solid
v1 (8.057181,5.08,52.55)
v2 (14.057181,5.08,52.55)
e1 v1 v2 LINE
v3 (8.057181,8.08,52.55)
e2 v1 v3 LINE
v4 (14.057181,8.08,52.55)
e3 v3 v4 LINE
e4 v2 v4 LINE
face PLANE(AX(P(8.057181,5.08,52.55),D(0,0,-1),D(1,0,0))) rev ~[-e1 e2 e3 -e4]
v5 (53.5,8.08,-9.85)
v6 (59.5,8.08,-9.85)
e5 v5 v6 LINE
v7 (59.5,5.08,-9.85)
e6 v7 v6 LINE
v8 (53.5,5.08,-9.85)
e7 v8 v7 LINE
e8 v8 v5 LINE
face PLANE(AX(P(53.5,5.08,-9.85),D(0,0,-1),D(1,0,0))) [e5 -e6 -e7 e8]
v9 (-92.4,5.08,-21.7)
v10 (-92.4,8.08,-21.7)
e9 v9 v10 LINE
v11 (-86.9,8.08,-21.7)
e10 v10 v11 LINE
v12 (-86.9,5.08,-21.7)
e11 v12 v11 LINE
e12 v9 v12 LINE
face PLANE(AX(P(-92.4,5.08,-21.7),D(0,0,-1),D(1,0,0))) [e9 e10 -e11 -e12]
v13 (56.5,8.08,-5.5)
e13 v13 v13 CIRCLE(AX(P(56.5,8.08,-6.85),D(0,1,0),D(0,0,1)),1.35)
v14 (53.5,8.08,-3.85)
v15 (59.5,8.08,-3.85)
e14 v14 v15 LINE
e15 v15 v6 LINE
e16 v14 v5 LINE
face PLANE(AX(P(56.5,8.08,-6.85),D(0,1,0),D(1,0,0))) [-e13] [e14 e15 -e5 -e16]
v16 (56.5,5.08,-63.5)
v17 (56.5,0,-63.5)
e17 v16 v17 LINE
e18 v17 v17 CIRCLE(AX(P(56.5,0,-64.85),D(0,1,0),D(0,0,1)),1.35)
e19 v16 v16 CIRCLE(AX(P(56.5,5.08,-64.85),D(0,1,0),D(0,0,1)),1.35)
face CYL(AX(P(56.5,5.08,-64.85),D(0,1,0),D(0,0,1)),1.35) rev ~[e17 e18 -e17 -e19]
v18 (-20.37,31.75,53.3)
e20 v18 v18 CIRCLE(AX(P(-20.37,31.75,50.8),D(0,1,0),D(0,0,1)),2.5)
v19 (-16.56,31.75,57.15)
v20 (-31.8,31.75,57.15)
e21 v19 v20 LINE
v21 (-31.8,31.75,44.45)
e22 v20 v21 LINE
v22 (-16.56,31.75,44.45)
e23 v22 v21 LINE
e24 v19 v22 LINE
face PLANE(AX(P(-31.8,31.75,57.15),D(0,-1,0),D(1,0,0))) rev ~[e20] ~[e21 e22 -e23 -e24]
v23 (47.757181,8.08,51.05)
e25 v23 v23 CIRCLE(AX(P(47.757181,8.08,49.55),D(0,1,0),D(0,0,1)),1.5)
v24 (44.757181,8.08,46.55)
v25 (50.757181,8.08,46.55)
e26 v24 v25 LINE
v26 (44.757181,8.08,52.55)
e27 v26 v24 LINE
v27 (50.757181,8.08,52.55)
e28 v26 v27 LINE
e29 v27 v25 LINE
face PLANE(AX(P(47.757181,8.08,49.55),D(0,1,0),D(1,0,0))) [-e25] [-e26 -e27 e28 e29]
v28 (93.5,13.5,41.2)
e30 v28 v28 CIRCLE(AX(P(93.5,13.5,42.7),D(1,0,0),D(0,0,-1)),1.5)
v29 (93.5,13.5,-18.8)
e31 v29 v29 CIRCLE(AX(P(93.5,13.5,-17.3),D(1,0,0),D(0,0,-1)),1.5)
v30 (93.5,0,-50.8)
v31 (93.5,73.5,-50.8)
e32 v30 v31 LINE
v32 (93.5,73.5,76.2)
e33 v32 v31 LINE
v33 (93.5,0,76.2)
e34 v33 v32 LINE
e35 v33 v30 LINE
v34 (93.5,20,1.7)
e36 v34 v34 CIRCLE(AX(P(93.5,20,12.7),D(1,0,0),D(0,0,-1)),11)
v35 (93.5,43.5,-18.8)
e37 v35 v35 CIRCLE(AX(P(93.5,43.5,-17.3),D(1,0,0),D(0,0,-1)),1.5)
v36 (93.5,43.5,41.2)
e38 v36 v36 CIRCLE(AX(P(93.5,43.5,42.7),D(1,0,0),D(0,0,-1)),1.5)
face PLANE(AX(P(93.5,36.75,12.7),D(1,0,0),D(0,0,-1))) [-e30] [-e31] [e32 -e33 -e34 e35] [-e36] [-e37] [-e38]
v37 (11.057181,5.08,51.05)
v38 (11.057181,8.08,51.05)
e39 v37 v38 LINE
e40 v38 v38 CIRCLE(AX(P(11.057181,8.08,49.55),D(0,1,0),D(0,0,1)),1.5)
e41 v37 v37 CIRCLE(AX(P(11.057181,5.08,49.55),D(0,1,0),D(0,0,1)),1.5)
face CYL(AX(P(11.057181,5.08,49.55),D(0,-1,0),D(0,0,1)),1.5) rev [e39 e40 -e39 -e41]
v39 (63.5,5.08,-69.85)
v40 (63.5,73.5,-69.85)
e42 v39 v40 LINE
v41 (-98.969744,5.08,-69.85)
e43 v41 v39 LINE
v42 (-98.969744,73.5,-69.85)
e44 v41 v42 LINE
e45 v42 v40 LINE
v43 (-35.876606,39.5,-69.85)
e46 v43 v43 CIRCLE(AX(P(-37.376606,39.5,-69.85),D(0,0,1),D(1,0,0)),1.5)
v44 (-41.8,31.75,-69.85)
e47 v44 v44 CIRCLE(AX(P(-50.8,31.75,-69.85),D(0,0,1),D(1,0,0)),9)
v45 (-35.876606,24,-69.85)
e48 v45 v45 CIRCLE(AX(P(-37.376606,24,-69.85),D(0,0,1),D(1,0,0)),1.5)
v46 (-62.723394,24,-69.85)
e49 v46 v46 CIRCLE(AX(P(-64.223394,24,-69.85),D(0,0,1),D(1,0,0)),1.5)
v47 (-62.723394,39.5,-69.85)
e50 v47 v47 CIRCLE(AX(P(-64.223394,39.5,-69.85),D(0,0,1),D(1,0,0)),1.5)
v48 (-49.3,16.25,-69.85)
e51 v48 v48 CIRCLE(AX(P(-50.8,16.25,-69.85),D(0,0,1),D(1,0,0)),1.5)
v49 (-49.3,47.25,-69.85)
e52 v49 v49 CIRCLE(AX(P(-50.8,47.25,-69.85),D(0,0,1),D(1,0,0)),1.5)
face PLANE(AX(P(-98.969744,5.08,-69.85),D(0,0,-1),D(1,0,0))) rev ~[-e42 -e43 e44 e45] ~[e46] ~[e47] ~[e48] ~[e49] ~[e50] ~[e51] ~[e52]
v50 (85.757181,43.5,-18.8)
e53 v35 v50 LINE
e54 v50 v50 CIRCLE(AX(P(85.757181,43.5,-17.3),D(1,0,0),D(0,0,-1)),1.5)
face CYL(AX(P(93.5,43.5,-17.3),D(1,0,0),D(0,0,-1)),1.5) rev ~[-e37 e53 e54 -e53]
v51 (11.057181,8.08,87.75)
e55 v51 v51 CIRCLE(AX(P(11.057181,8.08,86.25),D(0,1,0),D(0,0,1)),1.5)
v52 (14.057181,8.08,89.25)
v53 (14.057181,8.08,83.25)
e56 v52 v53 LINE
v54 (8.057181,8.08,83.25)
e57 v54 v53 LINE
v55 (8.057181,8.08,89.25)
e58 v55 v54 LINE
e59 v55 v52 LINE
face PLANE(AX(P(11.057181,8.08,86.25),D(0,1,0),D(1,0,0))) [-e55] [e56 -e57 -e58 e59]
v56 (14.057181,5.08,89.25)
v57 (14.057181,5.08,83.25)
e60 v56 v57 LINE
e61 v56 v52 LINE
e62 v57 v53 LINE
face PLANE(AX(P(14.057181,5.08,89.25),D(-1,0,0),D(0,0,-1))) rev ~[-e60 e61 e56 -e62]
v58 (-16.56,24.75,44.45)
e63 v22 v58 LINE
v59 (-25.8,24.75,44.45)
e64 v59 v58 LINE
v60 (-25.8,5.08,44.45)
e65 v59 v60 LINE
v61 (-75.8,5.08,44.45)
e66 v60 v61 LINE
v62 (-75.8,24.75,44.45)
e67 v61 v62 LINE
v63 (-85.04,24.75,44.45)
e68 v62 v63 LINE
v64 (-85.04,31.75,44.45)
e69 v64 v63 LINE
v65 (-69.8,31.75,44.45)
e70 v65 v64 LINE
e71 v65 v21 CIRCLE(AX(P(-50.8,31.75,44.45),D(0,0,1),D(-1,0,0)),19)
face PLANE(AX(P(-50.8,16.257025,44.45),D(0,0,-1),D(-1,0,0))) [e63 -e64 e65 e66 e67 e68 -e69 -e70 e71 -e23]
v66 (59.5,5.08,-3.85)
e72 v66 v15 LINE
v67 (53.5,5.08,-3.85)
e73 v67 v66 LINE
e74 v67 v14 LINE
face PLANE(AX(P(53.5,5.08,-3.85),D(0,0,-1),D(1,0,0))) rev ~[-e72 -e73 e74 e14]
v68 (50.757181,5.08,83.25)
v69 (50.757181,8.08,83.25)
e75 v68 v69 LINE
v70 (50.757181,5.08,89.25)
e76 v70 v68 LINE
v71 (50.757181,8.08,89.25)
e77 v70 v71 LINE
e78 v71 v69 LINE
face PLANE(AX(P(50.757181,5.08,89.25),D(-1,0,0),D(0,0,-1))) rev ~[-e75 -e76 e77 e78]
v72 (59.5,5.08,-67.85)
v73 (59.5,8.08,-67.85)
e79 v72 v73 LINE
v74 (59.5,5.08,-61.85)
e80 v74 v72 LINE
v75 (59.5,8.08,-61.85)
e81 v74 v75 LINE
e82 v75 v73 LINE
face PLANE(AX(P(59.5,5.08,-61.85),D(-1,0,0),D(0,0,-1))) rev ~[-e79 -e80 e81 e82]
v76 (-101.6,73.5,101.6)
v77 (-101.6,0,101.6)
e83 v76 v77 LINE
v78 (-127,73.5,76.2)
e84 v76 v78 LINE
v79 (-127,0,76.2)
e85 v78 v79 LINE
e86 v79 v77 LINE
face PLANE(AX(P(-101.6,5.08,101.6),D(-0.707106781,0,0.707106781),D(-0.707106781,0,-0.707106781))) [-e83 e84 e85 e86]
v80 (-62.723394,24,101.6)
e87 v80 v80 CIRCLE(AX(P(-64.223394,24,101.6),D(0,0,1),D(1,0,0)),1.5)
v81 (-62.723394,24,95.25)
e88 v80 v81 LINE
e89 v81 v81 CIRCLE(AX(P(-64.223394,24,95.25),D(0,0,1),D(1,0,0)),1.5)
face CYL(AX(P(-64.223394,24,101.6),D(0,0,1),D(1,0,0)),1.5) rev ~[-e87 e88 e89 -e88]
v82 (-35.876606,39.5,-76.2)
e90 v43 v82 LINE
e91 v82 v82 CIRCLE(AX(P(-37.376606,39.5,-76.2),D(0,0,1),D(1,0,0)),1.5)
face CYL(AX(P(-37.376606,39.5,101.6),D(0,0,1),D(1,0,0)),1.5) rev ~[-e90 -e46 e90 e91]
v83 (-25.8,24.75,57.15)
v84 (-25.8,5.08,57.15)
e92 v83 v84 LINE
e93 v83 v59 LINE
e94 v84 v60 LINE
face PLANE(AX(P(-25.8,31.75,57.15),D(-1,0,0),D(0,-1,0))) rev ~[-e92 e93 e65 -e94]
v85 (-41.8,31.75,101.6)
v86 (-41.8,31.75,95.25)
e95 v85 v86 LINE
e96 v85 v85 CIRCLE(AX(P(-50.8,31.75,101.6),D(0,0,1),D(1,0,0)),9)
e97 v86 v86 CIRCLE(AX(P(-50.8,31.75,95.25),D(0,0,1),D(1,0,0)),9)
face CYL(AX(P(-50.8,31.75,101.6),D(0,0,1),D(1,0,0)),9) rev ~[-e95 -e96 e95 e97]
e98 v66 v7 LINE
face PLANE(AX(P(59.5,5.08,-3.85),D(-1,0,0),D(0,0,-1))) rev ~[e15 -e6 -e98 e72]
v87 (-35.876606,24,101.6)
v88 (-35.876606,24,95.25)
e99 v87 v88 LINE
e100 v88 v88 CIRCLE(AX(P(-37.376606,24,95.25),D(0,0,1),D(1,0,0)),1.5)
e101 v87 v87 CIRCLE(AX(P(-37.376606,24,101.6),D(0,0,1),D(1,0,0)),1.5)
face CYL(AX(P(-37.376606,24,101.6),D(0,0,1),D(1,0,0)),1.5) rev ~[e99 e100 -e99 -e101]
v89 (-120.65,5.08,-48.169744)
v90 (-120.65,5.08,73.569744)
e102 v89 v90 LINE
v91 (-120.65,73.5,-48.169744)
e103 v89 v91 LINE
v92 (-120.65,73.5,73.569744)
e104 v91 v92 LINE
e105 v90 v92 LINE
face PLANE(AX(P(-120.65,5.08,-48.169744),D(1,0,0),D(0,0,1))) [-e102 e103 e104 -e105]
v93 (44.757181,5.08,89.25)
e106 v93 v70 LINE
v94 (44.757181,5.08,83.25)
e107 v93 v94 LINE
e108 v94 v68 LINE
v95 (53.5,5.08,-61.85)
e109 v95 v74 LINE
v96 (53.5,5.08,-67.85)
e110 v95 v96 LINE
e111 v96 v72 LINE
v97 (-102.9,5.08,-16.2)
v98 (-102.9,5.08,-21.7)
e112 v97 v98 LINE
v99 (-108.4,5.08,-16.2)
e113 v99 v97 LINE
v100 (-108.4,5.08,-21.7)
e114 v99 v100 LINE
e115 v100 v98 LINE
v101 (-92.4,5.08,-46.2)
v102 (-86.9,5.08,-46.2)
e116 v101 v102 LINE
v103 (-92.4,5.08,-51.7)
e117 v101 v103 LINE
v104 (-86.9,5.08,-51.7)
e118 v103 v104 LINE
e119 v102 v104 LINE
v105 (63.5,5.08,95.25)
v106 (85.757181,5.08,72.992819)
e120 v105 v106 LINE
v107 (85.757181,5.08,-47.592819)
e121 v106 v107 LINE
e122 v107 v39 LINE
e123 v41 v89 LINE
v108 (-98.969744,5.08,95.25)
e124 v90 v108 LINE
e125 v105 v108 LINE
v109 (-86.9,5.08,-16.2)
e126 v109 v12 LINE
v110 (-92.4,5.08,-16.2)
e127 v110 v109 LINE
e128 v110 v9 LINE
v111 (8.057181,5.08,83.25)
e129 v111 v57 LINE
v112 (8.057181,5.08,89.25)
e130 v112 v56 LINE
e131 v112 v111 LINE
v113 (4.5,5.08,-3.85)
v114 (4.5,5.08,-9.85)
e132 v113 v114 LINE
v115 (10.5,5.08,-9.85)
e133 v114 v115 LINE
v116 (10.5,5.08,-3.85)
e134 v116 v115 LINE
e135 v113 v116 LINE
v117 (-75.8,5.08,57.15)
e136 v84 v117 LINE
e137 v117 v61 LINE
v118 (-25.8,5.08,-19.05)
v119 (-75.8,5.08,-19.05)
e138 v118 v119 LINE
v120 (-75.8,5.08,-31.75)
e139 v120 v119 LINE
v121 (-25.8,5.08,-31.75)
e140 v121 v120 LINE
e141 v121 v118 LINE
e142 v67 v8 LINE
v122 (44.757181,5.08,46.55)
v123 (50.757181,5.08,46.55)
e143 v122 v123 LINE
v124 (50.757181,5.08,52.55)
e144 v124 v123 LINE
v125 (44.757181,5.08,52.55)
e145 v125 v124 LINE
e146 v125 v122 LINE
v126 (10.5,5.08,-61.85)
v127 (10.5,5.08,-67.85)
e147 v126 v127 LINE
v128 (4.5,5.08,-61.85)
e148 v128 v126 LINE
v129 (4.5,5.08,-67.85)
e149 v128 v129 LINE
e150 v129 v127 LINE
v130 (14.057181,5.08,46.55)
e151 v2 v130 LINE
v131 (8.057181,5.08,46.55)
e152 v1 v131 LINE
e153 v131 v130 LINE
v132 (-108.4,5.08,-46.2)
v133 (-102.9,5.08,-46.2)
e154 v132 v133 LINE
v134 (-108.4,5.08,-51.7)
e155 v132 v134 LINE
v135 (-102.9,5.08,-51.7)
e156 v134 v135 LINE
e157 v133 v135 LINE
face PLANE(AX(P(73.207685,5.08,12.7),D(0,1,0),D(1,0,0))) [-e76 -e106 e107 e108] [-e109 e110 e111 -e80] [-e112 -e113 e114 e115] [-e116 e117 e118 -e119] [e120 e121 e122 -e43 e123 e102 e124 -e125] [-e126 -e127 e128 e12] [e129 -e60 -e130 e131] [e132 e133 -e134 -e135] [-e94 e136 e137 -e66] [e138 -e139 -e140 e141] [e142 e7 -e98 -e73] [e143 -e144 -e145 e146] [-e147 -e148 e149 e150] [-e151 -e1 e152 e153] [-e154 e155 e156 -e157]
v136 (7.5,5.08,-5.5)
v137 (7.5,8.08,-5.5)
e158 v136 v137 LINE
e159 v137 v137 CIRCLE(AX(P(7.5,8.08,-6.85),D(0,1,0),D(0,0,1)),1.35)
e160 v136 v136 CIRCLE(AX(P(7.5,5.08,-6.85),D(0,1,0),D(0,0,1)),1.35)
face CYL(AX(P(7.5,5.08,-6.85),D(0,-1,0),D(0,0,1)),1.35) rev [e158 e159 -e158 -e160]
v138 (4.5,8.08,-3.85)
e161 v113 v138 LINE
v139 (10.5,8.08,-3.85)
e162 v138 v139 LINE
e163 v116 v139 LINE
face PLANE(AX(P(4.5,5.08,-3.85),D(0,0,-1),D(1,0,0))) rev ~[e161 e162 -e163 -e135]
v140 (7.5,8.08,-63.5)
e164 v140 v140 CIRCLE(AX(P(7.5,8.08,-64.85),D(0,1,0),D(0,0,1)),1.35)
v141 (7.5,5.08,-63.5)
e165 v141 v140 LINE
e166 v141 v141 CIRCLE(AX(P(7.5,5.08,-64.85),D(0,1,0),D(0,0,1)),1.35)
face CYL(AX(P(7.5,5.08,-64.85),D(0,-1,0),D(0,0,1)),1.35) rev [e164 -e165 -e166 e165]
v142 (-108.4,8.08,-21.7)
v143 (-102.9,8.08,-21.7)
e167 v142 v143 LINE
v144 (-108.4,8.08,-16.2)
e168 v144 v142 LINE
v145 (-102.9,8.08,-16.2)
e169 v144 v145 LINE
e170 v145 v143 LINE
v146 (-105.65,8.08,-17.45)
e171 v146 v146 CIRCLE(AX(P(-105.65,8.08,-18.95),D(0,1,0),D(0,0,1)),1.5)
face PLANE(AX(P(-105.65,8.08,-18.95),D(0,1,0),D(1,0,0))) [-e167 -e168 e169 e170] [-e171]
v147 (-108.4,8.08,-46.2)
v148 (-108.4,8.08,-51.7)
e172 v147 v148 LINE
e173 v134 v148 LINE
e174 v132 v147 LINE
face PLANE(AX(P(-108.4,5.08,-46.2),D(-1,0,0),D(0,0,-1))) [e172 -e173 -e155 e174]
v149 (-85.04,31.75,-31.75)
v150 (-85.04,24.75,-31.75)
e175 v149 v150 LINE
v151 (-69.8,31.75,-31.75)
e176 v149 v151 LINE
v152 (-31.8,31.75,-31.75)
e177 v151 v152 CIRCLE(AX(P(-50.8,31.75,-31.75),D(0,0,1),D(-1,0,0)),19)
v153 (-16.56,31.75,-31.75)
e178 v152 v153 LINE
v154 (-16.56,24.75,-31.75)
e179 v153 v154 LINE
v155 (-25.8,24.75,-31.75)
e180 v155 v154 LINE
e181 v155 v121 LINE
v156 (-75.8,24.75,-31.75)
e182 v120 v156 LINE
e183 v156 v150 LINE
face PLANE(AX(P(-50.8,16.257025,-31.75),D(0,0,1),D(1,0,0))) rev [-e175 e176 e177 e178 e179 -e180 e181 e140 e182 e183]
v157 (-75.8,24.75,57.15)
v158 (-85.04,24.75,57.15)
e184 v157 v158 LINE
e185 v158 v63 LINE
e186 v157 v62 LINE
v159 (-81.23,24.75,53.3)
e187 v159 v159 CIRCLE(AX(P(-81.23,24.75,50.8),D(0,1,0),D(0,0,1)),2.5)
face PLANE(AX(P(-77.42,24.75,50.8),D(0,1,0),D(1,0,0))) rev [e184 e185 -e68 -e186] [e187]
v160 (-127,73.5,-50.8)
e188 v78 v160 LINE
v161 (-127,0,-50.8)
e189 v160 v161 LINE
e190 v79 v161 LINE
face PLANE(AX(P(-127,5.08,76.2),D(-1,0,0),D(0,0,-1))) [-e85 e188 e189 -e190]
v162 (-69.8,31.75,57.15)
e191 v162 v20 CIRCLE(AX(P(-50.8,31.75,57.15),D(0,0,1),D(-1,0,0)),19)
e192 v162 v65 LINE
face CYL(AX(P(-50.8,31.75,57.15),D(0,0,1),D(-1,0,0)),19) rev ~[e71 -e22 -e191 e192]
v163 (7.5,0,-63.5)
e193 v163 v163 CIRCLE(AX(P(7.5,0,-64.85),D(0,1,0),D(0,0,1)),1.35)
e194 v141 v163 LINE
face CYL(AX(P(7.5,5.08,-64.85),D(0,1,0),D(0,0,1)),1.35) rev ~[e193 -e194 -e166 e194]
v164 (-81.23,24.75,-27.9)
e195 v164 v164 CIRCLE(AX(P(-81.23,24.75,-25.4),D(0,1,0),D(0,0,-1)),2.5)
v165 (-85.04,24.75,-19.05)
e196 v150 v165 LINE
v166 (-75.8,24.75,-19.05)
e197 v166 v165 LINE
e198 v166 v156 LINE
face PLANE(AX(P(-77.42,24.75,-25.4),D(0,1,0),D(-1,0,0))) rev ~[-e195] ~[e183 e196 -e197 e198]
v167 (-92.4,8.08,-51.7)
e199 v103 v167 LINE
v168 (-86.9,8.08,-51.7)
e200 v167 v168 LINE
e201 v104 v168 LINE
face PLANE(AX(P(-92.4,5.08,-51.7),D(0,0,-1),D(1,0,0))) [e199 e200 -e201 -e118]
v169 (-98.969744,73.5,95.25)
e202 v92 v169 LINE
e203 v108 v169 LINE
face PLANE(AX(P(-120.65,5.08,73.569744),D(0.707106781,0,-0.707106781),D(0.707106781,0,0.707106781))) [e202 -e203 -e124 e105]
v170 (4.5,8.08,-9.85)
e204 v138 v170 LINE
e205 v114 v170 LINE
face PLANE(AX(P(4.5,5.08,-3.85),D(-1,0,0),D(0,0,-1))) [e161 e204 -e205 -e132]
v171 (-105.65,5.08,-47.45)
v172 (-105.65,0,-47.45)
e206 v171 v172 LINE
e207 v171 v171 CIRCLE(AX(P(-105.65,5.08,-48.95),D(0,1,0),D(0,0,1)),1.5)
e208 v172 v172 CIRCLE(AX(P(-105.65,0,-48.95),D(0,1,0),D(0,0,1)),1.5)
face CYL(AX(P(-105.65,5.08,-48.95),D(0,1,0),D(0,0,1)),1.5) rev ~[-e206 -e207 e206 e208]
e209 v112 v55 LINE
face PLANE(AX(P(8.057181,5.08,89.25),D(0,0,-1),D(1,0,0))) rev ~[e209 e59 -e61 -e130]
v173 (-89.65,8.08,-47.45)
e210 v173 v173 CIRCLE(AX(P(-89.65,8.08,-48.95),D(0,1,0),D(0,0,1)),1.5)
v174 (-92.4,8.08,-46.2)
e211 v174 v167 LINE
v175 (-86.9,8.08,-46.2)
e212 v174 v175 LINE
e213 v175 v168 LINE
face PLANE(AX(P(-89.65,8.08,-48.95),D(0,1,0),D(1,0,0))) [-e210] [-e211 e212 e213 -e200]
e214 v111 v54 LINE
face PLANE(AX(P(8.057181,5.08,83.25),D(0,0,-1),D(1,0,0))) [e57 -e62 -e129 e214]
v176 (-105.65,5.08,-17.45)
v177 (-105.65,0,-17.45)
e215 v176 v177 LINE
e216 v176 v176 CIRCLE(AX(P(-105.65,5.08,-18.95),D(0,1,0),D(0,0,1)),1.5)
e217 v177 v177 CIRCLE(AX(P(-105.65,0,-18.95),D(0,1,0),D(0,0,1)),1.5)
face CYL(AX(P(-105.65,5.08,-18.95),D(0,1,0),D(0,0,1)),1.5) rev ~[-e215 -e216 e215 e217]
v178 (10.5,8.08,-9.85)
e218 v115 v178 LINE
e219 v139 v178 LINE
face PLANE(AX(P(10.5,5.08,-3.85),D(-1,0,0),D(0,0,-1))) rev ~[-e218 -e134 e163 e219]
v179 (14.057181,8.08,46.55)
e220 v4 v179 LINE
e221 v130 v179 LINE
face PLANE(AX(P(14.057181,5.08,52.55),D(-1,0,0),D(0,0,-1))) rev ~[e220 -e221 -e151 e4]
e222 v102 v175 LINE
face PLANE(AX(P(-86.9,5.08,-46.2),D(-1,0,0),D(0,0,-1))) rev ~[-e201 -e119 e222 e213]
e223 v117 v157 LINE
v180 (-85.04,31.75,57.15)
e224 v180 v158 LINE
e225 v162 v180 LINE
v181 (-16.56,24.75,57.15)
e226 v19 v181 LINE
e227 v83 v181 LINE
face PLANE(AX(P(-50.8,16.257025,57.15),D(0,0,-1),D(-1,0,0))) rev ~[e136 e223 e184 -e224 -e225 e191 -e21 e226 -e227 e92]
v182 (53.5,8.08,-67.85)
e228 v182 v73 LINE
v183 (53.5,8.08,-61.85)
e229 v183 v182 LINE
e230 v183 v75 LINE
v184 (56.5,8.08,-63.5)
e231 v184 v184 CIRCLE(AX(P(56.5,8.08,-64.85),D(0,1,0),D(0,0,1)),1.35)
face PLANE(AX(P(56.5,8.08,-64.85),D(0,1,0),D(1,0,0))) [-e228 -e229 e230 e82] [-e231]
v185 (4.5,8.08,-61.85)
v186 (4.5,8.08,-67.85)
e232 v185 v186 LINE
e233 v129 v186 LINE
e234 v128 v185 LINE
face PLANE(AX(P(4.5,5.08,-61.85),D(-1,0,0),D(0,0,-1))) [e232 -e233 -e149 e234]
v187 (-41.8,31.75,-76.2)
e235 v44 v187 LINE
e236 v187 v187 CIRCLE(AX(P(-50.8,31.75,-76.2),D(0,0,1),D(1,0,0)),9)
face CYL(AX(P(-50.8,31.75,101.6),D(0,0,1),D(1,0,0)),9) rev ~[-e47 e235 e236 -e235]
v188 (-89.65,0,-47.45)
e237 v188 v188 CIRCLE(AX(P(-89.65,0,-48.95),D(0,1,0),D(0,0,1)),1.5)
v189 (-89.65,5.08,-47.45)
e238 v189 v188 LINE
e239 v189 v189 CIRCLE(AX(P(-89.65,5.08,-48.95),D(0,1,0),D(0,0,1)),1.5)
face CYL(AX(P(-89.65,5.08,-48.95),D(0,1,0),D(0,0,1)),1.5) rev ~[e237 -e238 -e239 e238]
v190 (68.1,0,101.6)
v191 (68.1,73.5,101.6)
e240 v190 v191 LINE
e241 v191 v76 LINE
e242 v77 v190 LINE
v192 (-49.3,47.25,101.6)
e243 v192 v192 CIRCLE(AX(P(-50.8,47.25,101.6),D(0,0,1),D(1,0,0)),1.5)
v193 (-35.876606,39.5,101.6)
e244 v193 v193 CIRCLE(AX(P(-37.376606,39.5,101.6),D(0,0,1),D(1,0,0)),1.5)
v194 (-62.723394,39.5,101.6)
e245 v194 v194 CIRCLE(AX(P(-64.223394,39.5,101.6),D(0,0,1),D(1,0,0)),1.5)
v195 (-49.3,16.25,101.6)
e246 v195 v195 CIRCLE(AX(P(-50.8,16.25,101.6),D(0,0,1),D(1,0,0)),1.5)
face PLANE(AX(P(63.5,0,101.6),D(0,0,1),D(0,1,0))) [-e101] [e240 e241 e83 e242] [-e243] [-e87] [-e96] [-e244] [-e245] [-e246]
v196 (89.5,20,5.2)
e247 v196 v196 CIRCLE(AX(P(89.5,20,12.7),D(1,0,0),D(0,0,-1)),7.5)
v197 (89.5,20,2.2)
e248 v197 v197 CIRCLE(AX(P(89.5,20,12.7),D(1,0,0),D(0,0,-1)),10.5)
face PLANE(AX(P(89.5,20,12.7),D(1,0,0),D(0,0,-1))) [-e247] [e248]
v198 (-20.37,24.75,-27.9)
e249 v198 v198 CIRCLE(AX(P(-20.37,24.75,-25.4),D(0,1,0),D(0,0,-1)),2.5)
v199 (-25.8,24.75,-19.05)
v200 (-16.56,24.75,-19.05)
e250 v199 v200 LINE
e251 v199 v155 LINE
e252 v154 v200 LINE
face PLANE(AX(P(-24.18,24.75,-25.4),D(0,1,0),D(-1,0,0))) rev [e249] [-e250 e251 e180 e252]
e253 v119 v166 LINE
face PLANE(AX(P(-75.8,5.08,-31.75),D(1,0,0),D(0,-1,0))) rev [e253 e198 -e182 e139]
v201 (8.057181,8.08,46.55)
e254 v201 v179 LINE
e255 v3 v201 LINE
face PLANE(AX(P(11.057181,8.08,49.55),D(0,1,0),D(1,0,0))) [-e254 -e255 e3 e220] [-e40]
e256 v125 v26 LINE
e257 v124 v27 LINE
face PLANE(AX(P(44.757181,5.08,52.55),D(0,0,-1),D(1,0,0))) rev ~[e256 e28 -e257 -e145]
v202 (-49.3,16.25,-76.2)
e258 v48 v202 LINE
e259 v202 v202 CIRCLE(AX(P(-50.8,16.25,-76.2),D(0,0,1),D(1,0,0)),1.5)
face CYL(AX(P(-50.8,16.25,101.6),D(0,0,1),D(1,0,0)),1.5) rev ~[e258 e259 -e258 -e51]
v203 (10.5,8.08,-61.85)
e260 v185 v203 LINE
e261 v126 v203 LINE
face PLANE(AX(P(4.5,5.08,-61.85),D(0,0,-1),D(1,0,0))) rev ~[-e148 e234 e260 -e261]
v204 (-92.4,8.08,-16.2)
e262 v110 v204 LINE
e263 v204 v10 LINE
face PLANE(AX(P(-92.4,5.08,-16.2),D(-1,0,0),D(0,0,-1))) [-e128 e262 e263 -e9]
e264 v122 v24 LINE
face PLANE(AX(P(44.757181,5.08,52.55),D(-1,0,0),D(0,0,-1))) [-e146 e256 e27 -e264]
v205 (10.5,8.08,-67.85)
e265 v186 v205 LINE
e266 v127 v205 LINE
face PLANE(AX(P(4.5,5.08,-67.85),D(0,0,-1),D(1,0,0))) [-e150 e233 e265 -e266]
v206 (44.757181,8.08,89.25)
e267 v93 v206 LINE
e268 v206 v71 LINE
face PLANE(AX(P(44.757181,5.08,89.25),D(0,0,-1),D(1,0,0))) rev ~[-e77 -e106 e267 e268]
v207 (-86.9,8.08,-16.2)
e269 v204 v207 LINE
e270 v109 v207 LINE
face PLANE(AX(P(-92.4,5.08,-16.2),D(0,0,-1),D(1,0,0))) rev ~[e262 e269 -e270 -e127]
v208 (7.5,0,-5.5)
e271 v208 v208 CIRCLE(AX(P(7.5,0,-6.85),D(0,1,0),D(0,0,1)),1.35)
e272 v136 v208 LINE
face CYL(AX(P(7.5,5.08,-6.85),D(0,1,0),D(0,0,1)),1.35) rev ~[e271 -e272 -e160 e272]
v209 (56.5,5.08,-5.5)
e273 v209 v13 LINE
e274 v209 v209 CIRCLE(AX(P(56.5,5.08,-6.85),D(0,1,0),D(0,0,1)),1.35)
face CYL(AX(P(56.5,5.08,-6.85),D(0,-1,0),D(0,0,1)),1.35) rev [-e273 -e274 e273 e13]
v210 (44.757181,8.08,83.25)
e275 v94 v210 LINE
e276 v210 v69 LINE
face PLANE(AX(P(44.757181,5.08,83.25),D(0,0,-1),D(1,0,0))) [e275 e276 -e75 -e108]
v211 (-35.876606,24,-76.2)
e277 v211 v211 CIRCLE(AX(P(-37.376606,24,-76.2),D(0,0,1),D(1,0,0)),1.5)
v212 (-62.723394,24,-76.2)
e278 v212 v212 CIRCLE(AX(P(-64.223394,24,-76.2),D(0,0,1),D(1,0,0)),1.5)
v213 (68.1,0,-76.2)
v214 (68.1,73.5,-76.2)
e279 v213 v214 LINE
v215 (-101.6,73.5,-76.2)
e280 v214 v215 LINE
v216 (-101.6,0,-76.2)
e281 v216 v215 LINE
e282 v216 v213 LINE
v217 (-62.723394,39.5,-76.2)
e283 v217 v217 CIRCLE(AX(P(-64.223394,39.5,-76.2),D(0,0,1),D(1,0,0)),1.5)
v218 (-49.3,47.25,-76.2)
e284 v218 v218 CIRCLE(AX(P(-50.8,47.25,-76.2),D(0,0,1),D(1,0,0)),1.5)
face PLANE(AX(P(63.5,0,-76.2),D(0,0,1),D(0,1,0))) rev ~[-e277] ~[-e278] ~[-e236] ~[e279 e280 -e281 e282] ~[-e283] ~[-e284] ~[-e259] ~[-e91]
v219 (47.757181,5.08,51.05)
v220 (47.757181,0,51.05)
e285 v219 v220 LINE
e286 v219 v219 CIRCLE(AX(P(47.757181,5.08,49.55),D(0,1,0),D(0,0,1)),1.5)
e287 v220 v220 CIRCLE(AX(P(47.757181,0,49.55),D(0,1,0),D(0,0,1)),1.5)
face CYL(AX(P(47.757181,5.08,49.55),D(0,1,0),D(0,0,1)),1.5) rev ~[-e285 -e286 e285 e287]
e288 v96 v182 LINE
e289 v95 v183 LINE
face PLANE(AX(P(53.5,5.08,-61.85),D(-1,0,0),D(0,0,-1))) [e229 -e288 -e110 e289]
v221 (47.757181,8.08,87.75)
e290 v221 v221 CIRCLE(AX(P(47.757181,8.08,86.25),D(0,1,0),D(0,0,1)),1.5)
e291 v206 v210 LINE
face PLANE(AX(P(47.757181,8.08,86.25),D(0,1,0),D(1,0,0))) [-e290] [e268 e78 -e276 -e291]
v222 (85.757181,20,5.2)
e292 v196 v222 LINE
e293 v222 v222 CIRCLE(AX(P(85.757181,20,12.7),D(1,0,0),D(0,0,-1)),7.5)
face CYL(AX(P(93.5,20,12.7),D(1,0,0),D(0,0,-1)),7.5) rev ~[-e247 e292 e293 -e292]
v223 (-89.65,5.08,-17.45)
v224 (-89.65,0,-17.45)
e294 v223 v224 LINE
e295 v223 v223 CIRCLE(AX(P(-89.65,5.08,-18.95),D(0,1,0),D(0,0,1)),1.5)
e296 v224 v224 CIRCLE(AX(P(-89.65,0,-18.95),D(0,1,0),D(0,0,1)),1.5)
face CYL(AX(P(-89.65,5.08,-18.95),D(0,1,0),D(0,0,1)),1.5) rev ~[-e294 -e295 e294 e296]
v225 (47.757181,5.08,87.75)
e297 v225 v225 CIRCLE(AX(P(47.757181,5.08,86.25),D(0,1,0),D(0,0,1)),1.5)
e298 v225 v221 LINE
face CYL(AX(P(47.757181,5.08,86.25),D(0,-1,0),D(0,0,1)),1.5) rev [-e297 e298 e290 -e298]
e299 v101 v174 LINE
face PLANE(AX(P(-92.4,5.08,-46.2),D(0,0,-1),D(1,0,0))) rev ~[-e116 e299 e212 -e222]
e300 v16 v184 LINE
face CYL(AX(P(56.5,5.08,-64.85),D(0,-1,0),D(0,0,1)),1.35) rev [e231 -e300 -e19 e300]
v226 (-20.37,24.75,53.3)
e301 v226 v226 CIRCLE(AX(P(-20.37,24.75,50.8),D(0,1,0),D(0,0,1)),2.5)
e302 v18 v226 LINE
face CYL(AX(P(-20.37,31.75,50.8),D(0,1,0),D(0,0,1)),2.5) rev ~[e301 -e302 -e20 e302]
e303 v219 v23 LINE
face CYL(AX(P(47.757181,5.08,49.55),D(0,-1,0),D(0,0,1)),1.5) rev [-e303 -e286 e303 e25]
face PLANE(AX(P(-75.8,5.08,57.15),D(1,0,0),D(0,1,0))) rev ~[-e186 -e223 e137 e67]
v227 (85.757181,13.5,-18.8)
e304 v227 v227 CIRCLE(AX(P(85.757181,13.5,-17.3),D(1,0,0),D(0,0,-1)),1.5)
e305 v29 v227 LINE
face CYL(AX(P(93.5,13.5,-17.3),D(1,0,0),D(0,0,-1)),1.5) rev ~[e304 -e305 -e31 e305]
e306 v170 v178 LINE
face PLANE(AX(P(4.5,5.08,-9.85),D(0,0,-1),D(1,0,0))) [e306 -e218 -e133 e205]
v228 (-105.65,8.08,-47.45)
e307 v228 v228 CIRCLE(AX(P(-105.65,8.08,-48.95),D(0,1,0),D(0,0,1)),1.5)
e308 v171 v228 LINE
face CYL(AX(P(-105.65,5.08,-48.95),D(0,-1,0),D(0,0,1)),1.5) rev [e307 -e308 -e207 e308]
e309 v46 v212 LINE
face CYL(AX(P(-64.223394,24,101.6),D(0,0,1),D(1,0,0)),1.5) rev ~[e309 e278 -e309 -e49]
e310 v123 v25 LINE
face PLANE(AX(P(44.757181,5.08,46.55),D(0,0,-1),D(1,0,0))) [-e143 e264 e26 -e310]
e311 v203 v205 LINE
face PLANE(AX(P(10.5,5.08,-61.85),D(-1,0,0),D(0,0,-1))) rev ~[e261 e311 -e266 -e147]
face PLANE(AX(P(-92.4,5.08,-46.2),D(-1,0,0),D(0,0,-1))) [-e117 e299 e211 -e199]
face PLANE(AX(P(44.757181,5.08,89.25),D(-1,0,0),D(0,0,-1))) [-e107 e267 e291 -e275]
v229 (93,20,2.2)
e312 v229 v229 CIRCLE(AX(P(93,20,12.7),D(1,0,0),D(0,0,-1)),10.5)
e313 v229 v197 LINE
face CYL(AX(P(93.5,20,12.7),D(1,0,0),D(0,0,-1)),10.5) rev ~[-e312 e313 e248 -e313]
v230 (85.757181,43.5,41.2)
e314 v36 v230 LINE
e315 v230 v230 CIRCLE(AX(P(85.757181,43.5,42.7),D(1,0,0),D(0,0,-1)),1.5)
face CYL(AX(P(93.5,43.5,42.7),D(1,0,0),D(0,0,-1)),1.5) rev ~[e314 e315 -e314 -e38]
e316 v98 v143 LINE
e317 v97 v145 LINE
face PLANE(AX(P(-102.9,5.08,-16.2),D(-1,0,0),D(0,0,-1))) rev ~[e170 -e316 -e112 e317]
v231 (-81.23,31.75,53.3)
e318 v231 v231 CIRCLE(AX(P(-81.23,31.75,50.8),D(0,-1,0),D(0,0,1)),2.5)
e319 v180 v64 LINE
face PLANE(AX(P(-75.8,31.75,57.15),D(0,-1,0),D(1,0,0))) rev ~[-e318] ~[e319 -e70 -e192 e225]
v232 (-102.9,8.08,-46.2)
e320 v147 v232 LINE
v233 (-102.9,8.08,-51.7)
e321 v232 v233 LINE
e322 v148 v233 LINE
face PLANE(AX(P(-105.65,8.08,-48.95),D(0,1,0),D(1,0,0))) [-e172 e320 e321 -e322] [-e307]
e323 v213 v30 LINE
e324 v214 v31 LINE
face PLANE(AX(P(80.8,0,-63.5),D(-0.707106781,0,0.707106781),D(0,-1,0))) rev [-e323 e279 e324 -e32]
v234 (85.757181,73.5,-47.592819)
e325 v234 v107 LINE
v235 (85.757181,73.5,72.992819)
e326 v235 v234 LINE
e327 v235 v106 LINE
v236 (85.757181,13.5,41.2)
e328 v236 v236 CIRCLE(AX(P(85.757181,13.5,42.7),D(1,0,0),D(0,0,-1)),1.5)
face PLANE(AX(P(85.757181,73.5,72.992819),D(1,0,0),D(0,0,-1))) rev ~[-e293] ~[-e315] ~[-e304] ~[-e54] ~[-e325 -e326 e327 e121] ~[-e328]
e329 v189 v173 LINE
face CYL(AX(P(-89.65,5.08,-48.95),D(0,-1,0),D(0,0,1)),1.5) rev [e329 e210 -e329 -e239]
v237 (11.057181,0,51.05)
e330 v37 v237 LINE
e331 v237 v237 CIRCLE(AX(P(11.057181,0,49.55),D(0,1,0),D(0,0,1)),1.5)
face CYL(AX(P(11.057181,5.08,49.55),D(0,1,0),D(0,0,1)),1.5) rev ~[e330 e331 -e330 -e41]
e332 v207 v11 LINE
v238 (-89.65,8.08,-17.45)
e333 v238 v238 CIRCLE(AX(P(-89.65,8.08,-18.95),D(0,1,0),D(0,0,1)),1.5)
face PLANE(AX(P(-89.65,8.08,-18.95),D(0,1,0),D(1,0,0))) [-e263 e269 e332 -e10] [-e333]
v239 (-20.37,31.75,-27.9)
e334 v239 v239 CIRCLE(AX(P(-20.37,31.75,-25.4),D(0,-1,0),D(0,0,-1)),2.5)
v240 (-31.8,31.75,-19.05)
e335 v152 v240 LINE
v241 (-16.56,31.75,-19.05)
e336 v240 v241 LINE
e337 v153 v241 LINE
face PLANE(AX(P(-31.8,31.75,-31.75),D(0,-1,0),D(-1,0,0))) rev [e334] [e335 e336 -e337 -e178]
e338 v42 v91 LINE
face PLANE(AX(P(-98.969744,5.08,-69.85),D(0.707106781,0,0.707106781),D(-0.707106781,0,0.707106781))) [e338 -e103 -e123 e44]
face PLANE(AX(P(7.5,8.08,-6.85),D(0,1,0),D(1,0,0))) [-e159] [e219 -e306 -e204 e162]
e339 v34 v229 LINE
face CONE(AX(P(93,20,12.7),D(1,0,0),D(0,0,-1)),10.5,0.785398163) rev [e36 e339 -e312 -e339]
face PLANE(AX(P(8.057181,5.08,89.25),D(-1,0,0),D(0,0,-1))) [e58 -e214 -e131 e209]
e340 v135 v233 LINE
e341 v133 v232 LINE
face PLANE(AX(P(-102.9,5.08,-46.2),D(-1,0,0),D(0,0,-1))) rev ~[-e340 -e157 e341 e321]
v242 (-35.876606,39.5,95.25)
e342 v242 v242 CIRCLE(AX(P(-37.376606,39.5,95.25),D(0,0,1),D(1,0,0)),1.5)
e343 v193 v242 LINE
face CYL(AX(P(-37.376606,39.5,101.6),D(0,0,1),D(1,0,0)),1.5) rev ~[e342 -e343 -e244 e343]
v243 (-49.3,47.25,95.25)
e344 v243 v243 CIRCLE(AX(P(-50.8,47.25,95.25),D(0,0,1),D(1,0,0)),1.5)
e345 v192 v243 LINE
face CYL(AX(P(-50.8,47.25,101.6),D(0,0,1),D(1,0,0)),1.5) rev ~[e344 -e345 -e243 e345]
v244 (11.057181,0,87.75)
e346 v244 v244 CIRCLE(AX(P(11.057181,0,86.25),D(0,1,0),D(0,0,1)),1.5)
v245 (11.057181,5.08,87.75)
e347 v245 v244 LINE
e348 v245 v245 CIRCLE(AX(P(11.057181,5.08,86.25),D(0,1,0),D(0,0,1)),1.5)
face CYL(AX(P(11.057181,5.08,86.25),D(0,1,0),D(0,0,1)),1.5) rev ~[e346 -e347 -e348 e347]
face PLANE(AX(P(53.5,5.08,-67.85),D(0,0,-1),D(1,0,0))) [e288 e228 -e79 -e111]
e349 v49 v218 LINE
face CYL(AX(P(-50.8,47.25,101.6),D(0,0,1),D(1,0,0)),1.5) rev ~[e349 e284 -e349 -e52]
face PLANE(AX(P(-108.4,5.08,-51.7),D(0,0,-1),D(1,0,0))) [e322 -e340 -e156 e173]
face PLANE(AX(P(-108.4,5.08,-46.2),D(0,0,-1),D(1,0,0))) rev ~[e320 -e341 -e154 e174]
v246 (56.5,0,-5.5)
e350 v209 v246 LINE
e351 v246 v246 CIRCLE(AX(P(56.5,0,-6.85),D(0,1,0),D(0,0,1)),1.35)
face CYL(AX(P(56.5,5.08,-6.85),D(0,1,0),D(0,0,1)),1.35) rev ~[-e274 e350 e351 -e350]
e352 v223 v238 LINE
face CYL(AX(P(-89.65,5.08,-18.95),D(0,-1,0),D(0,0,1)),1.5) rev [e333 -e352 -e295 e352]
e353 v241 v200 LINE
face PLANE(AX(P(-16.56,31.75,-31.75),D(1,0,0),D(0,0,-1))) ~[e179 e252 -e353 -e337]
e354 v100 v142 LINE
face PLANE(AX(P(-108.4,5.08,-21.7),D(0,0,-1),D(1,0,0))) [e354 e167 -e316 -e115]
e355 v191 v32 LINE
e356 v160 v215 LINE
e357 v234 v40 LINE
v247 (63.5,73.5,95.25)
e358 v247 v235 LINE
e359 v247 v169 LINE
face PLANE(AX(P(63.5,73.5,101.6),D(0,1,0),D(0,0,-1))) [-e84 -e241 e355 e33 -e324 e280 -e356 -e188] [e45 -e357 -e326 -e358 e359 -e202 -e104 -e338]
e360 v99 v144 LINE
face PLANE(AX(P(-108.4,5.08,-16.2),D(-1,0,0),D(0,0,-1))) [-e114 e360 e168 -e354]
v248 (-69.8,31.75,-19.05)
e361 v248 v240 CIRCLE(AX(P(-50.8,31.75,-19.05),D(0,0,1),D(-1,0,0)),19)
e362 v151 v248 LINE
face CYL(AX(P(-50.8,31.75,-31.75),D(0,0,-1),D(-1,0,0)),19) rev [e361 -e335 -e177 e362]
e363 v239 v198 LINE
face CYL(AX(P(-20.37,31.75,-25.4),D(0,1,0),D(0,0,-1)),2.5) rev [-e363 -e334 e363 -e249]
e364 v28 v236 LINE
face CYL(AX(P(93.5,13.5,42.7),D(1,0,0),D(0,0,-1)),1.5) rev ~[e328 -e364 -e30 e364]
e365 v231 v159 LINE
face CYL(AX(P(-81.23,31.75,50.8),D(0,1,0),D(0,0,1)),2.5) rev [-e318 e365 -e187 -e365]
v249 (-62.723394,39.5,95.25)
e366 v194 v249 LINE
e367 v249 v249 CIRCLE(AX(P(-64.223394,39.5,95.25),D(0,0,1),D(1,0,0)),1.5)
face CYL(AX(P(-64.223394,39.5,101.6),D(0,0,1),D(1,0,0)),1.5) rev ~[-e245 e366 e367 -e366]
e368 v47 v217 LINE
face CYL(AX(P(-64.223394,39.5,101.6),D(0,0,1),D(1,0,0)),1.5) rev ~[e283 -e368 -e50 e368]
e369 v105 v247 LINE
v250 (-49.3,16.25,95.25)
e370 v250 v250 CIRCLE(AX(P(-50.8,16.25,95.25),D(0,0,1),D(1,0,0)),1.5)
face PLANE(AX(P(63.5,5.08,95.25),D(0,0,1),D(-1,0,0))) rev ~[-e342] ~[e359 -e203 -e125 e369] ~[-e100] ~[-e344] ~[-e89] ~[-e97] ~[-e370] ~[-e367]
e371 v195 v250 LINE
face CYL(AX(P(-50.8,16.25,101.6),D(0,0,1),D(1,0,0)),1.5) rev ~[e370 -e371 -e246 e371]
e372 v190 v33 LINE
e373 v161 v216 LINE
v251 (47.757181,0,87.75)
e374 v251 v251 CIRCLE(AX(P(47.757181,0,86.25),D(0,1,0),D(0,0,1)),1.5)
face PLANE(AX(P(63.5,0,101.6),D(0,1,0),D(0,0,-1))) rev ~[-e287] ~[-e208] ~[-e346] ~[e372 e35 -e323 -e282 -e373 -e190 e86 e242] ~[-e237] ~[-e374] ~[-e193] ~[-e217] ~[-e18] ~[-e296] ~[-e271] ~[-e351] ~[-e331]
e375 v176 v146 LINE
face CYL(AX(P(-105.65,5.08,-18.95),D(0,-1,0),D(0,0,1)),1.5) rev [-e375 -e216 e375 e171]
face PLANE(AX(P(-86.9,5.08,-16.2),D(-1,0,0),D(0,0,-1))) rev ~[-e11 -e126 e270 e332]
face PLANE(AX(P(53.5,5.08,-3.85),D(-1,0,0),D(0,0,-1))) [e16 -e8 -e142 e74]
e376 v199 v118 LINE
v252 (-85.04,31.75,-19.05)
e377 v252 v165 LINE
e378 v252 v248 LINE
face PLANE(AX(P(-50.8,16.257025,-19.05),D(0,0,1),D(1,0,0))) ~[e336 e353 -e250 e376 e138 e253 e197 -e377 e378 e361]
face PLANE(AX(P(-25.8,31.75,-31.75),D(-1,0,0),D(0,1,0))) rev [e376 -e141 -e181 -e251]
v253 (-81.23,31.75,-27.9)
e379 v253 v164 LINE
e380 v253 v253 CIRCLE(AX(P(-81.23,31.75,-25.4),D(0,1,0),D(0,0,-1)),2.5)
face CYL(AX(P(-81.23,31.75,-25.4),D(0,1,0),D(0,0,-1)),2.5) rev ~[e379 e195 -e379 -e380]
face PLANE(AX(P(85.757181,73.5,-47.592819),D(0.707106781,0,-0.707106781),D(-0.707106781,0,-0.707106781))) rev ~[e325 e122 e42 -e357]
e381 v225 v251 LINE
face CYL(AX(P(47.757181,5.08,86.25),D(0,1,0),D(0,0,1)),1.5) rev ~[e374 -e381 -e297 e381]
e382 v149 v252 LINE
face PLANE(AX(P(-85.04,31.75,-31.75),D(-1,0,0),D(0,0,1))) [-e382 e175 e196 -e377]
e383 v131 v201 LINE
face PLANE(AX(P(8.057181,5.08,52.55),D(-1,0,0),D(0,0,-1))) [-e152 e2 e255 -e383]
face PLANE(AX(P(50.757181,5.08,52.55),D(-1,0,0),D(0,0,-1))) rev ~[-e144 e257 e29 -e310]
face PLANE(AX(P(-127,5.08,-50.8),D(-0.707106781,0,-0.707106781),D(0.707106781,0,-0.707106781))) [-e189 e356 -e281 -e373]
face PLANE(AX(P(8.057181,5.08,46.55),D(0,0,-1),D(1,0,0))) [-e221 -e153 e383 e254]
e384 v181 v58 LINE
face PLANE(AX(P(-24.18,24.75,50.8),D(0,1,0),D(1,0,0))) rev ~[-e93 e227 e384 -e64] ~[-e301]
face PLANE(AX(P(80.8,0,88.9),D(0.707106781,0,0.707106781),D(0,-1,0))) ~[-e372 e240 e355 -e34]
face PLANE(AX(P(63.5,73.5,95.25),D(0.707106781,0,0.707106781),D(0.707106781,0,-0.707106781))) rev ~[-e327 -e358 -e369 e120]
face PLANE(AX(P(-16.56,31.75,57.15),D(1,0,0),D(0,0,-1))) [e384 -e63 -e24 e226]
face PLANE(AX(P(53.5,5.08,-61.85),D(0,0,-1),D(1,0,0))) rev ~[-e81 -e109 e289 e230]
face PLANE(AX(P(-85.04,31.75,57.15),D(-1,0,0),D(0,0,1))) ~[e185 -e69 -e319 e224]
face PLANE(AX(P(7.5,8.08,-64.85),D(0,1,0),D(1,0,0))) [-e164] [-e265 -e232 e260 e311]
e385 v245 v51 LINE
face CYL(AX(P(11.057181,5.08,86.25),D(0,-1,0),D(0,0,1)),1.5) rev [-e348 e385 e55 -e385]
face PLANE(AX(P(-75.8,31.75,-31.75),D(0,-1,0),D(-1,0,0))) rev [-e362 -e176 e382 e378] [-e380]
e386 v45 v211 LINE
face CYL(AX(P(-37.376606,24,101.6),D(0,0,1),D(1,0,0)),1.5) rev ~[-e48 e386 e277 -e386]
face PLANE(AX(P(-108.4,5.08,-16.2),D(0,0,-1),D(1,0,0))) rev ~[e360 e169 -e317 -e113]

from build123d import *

# Parameters (mm, degrees)
SKETCH2_W               = 190.5
SKETCH2_H               = 177.8
BOSS_EXTRUDE1_DEPTH     = 5.08
CHAMFER1_SIZE           = 25.4
BOSS_EXTRUDE3_DEPTH     = 68.42
SKETCH5_R               = 9
SKETCH5_R_2             = 1.5
CUT_EXTRUDE1_DEPTH      = 231.530019737
SKETCH10_W              = 177.8
SKETCH10_H              = 73.5
BOSS_EXTRUDE6_DEPTH     = 30
CHAMFER3_SIZE           = 25.4
CUT_EXTRUDE2_DEPTH      = 68.42
BOSS_EXTRUDE7_START     = 38.1
BOSS_EXTRUDE7_DEPTH     = 12.7
SKETCH13_W              = 15.24
SKETCH13_H              = 12.7
BOSS_EXTRUDE8_DEPTH     = 7
SKETCH14_R              = 2.5
CUT_EXTRUDE3_DEPTH      = 10
MIRROR4_COPY_1_SKETCH_W = 15.24
MIRROR4_COPY_1_SKETCH_H = 12.7
MIRROR4_COPY_1_DEPTH    = 7
MIRROR4_COPY_2_SKETCH_R = 2.5
MIRROR4_COPY_2_DEPTH    = 10
SKETCH17_W              = 6
SKETCH17_H              = 6
SKETCH17_R              = 1.35
BOSS_EXTRUDE9_DEPTH     = 3
SKETCH18_W              = 5.5
SKETCH18_H              = 5.5
SKETCH18_R              = 1.5
BOSS_EXTRUDE10_DEPTH    = 3
SKETCH19_W              = 6
SKETCH19_H              = 6
SKETCH19_R              = 1.5
BOSS_EXTRUDE11_DEPTH    = 3
SKETCH19_2_R            = 1.5
CUT_EXTRUDE5_DEPTH      = 10
SKETCH17_2_R            = 1.35
CUT_EXTRUDE6_DEPTH      = 10
SKETCH18_2_R            = 1.5
CUT_EXTRUDE7_DEPTH      = 10
SKETCH20_R              = 7.5
CUT_EXTRUDE8_DEPTH      = 10
SKETCH20_3_R            = 10.5
SKETCH20_3_R_2          = 7.5
CUT_EXTRUDE9_DEPTH      = 4
CHAMFER4_SIZE           = 0.5
SKETCH18_3_R            = 1.5
CUT_EXTRUDE10_DEPTH     = 10
SKETCH22_R              = 1.5
CUT_EXTRUDE11_DEPTH     = 10


with BuildPart() as part:
    # Sketch2 → Boss-Extrude1 (new body)
    with BuildSketch(Plane(origin=(0, 0, 0), x_dir=(1, 0, 0), z_dir=(0, 1, 0))):
        with Locations((-31.75, -12.7)):
            Rectangle(SKETCH2_W, SKETCH2_H)
    extrude(amount=BOSS_EXTRUDE1_DEPTH)

    # Chamfer1
    chamfer1_edges = [part.edges().sort_by_distance(p)[0] for p in [
        (-127, 2.54, -76.2),
        (-127, 2.54, 101.6),
    ]]
    chamfer(chamfer1_edges, length=CHAMFER1_SIZE)

    # Sketch4 → Boss-Extrude3 (add)
    with BuildSketch(Plane(origin=(0, 5.08, 0), x_dir=(1, 0, 0), z_dir=(0, 1, 0))):
        Polygon((57.15, 69.85), (-98.969743879, 69.85), (-120.65, 48.169743879), (-120.65, -73.569743879), (-98.969743879, -95.25), (57.15, -95.25), (63.5, -95.25), (63.5, -101.6), (-101.6, -101.6), (-127, -76.2), (-127, 50.8), (-101.6, 76.2), (63.5, 76.2), (63.5, 69.85), align=None)
    extrude(amount=BOSS_EXTRUDE3_DEPTH)

    # Sketch5 → Cut-Extrude1 (cut, through all)
    with BuildSketch(Plane.XY.offset(101.6)):
        with Locations((-50.8, 31.75)):
            Circle(SKETCH5_R)
        with Locations((-50.8, 47.25)):
            Circle(SKETCH5_R_2)
        with Locations((-37.376606241, 39.5)):
            Circle(SKETCH5_R_2)
        with Locations((-37.376606241, 24)):
            Circle(SKETCH5_R_2)
        with Locations((-50.8, 16.25)):
            Circle(SKETCH5_R_2)
        with Locations((-64.223393759, 24)):
            Circle(SKETCH5_R_2)
        with Locations((-64.223393759, 39.5)):
            Circle(SKETCH5_R_2)
    extrude(amount=-CUT_EXTRUDE1_DEPTH, mode=Mode.SUBTRACT)

    # Sketch10 → Boss-Extrude6 (add)
    with BuildSketch(Plane(origin=(63.5, 0, 0), x_dir=(0, 0, -1), z_dir=(1, 0, 0))):
        with Locations((-12.7, 36.75)):
            Rectangle(SKETCH10_W, SKETCH10_H)
    extrude(amount=BOSS_EXTRUDE6_DEPTH)

    # Chamfer3
    chamfer3_edges = [part.edges().sort_by_distance(p)[0] for p in [
        (93.5, 36.75, 101.6),
        (93.5, 36.75, -76.2),
    ]]
    chamfer(chamfer3_edges, length=CHAMFER3_SIZE)

    # Sketch11 → Cut-Extrude2 (cut)
    with BuildSketch(Plane(origin=(0, 73.5, 0), x_dir=(1, 0, 0), z_dir=(0, 1, 0))):
        Polygon((85.757180746, -72.992819254), (85.757180746, 47.592819254), (63.5, 69.85), (63.5, -95.25), align=None)
    extrude(amount=-CUT_EXTRUDE2_DEPTH, mode=Mode.SUBTRACT)

    # Sketch12 → Boss-Extrude7 (add)
    with BuildSketch(Plane(origin=(0, 0, 95.25), x_dir=(-1, 0, 0), z_dir=(0, 0, -1)).offset(BOSS_EXTRUDE7_START)):
        with BuildLine():
            Line((25.8, 5.08), (75.8, 5.08))
            Line((75.8, 5.08), (75.8, 31.75))
            Line((75.8, 31.75), (69.8, 31.75))
            ThreePointArc((69.8, 31.75), (50.8, 12.75), (31.8, 31.75))
            Line((31.8, 31.75), (25.8, 31.75))
            Line((25.8, 31.75), (25.8, 5.08))
        make_face()
    boss_extrude7 = extrude(amount=BOSS_EXTRUDE7_DEPTH)

    # Sketch13 → Boss-Extrude8 (add)
    with BuildSketch(Plane(origin=(0, 31.75, 0), x_dir=(1, 0, 0), z_dir=(0, 1, 0))):
        with Locations((-24.18, -50.8)):
            Rectangle(SKETCH13_W, SKETCH13_H)
    boss_extrude8 = extrude(amount=-BOSS_EXTRUDE8_DEPTH)

    # Sketch14 → Cut-Extrude3 (cut)
    with BuildSketch(Plane(origin=(0, 31.75, 0), x_dir=(1, 0, 0), z_dir=(0, 1, 0))):
        with Locations(Location((-20.37, -50.8, 0), (0, 0, 270))):
            Circle(SKETCH14_R)
    cut_extrude3 = extrude(amount=-CUT_EXTRUDE3_DEPTH, mode=Mode.SUBTRACT)

    # Mirror2: Boss-Extrude8 across plane
    add(boss_extrude8.mirror(Plane.ZY.offset(50.8)))

    # Mirror3: Cut-Extrude3 across plane
    add(cut_extrude3.mirror(Plane.ZY.offset(50.8)), mode=Mode.SUBTRACT)

    # Mirror4: Boss-Extrude7, Boss-Extrude8, Cut-Extrude3 across plane
    add(boss_extrude7.mirror(Plane.XY.offset(12.7)))
    add(boss_extrude8.mirror(Plane.XY.offset(12.7)))
    add(cut_extrude3.mirror(Plane.XY.offset(12.7)), mode=Mode.SUBTRACT)

    # Mirror4 copy 1 sketch → Mirror4 copy 1 (add)
    with BuildSketch(Plane(origin=(-101.6, 31.75, 25.4), x_dir=(-1, 0, 0), z_dir=(0, 1, 0))):
        with Locations((-24.18, -50.8)):
            Rectangle(MIRROR4_COPY_1_SKETCH_W, MIRROR4_COPY_1_SKETCH_H)
    extrude(amount=-MIRROR4_COPY_1_DEPTH)

    # Mirror4 copy 2 sketch → Mirror4 copy 2 (cut)
    with BuildSketch(Plane(origin=(-101.6, 31.75, 25.4), x_dir=(-1, 0, 0), z_dir=(0, 1, 0))):
        with Locations(Location((-20.37, -50.8, 0), (0, 0, 270))):
            Circle(MIRROR4_COPY_2_SKETCH_R)
    extrude(amount=-MIRROR4_COPY_2_DEPTH, mode=Mode.SUBTRACT)

    # Sketch17 → Boss-Extrude9 (add)
    with BuildSketch(Plane(origin=(0, 5.08, 0), x_dir=(1, 0, 0), z_dir=(0, 1, 0))):
        with Locations((7.5, 64.85)):
            Rectangle(SKETCH17_W, SKETCH17_H)
        with Locations(Location((7.5, 64.85, 0), (0, 0, 270))):
            Circle(SKETCH17_R, mode=Mode.SUBTRACT)
        with Locations((56.5, 64.85)):
            Rectangle(SKETCH17_W, SKETCH17_H)
        with Locations(Location((56.5, 64.85, 0), (0, 0, 270))):
            Circle(SKETCH17_R, mode=Mode.SUBTRACT)
        with Locations((7.5, 6.85)):
            Rectangle(SKETCH17_W, SKETCH17_H)
        with Locations(Location((7.5, 6.85, 0), (0, 0, 270))):
            Circle(SKETCH17_R, mode=Mode.SUBTRACT)
        with Locations((56.5, 6.85)):
            Rectangle(SKETCH17_W, SKETCH17_H)
        with Locations(Location((56.5, 6.85, 0), (0, 0, 270))):
            Circle(SKETCH17_R, mode=Mode.SUBTRACT)
    extrude(amount=BOSS_EXTRUDE9_DEPTH)

    # Sketch18 → Boss-Extrude10 (add)
    with BuildSketch(Plane(origin=(0, 5.08, 0), x_dir=(1, 0, 0), z_dir=(0, 1, 0))):
        with Locations((-105.65, 48.95)):
            Rectangle(SKETCH18_W, SKETCH18_H)
        with Locations(Location((-105.65, 48.95, 0), (0, 0, 270))):
            Circle(SKETCH18_R, mode=Mode.SUBTRACT)
        with Locations((-89.65, 18.95)):
            Rectangle(SKETCH18_W, SKETCH18_H)
        with Locations(Location((-89.65, 18.95, 0), (0, 0, 270))):
            Circle(SKETCH18_R, mode=Mode.SUBTRACT)
        with Locations((-105.65, 18.95)):
            Rectangle(SKETCH18_W, SKETCH18_H)
        with Locations(Location((-105.65, 18.95, 0), (0, 0, 270))):
            Circle(SKETCH18_R, mode=Mode.SUBTRACT)
        with Locations((-89.65, 48.95)):
            Rectangle(SKETCH18_W, SKETCH18_H)
        with Locations(Location((-89.65, 48.95, 0), (0, 0, 270))):
            Circle(SKETCH18_R, mode=Mode.SUBTRACT)
    extrude(amount=BOSS_EXTRUDE10_DEPTH)

    # Sketch19 → Boss-Extrude11 (add)
    with BuildSketch(Plane(origin=(0, 5.08, 0), x_dir=(1, 0, 0), z_dir=(0, 1, 0))):
        with Locations((11.057180746, -49.55)):
            Rectangle(SKETCH19_W, SKETCH19_H)
        with Locations(Location((11.057180746, -49.55, 0), (0, 0, 270))):
            Circle(SKETCH19_R, mode=Mode.SUBTRACT)
        with Locations((47.757180746, -49.55)):
            Rectangle(SKETCH19_W, SKETCH19_H)
        with Locations(Location((47.757180746, -49.55, 0), (0, 0, 270))):
            Circle(SKETCH19_R, mode=Mode.SUBTRACT)
        with Locations((11.057180746, -86.25)):
            Rectangle(SKETCH19_W, SKETCH19_H)
        with Locations(Location((11.057180746, -86.25, 0), (0, 0, 270))):
            Circle(SKETCH19_R, mode=Mode.SUBTRACT)
        with Locations((47.757180746, -86.25)):
            Rectangle(SKETCH19_W, SKETCH19_H)
        with Locations(Location((47.757180746, -86.25, 0), (0, 0, 270))):
            Circle(SKETCH19_R, mode=Mode.SUBTRACT)
    extrude(amount=BOSS_EXTRUDE11_DEPTH)

    # Sketch19_2 → Cut-Extrude5 (cut)
    with BuildSketch(Plane(origin=(0, 5.08, 0), x_dir=(1, 0, 0), z_dir=(0, 1, 0))):
        with Locations(Location((11.057180746, -49.55, 0), (0, 0, 270))):
            Circle(SKETCH19_2_R)
        with Locations(Location((47.757180746, -49.55, 0), (0, 0, 270))):
            Circle(SKETCH19_2_R)
        with Locations(Location((47.757180746, -86.25, 0), (0, 0, 270))):
            Circle(SKETCH19_2_R)
        with Locations(Location((11.057180746, -86.25, 0), (0, 0, 270))):
            Circle(SKETCH19_2_R)
    extrude(amount=-CUT_EXTRUDE5_DEPTH, mode=Mode.SUBTRACT)

    # Sketch17_2 → Cut-Extrude6 (cut)
    with BuildSketch(Plane(origin=(0, 5.08, 0), x_dir=(1, 0, 0), z_dir=(0, 1, 0))):
        with Locations(Location((7.5, 64.85, 0), (0, 0, 270))):
            Circle(SKETCH17_2_R)
        with Locations(Location((56.5, 64.85, 0), (0, 0, 270))):
            Circle(SKETCH17_2_R)
        with Locations(Location((56.5, 6.85, 0), (0, 0, 270))):
            Circle(SKETCH17_2_R)
        with Locations(Location((7.5, 6.85, 0), (0, 0, 270))):
            Circle(SKETCH17_2_R)
    extrude(amount=-CUT_EXTRUDE6_DEPTH, mode=Mode.SUBTRACT)

    # Sketch18_2 → Cut-Extrude7 (cut)
    with BuildSketch(Plane(origin=(0, 5.08, 0), x_dir=(1, 0, 0), z_dir=(0, 1, 0))):
        with Locations(Location((-89.65, 18.95, 0), (0, 0, 270))):
            Circle(SKETCH18_2_R)
        with Locations(Location((-105.65, 48.95, 0), (0, 0, 270))):
            Circle(SKETCH18_2_R)
    extrude(amount=-CUT_EXTRUDE7_DEPTH, mode=Mode.SUBTRACT)

    # Sketch20 → Cut-Extrude8 (cut)
    with BuildSketch(Plane(origin=(93.5, 0, 0), x_dir=(0, 0, -1), z_dir=(1, 0, 0))):
        with Locations((-12.7, 20)):
            Circle(SKETCH20_R)
    extrude(amount=-CUT_EXTRUDE8_DEPTH, mode=Mode.SUBTRACT)

    # Sketch20_3 → Cut-Extrude9 (cut)
    with BuildSketch(Plane(origin=(93.5, 0, 0), x_dir=(0, 0, -1), z_dir=(1, 0, 0))):
        with Locations((-12.7, 20)):
            Circle(SKETCH20_3_R)
        with Locations((-12.7, 20)):
            Circle(SKETCH20_3_R_2, mode=Mode.SUBTRACT)
    extrude(amount=-CUT_EXTRUDE9_DEPTH, mode=Mode.SUBTRACT)

    # Chamfer4
    chamfer4_edges = [part.edges().sort_by_distance(p)[0] for p in [
        (93.5, 20, 23.2),
    ]]
    chamfer(chamfer4_edges, length=CHAMFER4_SIZE)

    # Sketch18_3 → Cut-Extrude10 (cut)
    with BuildSketch(Plane(origin=(0, 5.08, 0), x_dir=(1, 0, 0), z_dir=(0, 1, 0))):
        with Locations(Location((-89.65, 48.95, 0), (0, 0, 270))):
            Circle(SKETCH18_3_R)
        with Locations(Location((-105.65, 18.95, 0), (0, 0, 270))):
            Circle(SKETCH18_3_R)
    extrude(amount=-CUT_EXTRUDE10_DEPTH, mode=Mode.SUBTRACT)

    # Sketch22 → Cut-Extrude11 (cut)
    with BuildSketch(Plane(origin=(93.5, 0, 0), x_dir=(0, 0, -1), z_dir=(1, 0, 0))):
        with Locations((-42.7, 43.5)):
            Circle(SKETCH22_R)
        with Locations((17.3, 43.5)):
            Circle(SKETCH22_R)
        with Locations((-42.7, 13.5)):
            Circle(SKETCH22_R)
        with Locations((17.3, 13.5)):
            Circle(SKETCH22_R)
    extrude(amount=-CUT_EXTRUDE11_DEPTH, mode=Mode.SUBTRACT)


solid = part.part
